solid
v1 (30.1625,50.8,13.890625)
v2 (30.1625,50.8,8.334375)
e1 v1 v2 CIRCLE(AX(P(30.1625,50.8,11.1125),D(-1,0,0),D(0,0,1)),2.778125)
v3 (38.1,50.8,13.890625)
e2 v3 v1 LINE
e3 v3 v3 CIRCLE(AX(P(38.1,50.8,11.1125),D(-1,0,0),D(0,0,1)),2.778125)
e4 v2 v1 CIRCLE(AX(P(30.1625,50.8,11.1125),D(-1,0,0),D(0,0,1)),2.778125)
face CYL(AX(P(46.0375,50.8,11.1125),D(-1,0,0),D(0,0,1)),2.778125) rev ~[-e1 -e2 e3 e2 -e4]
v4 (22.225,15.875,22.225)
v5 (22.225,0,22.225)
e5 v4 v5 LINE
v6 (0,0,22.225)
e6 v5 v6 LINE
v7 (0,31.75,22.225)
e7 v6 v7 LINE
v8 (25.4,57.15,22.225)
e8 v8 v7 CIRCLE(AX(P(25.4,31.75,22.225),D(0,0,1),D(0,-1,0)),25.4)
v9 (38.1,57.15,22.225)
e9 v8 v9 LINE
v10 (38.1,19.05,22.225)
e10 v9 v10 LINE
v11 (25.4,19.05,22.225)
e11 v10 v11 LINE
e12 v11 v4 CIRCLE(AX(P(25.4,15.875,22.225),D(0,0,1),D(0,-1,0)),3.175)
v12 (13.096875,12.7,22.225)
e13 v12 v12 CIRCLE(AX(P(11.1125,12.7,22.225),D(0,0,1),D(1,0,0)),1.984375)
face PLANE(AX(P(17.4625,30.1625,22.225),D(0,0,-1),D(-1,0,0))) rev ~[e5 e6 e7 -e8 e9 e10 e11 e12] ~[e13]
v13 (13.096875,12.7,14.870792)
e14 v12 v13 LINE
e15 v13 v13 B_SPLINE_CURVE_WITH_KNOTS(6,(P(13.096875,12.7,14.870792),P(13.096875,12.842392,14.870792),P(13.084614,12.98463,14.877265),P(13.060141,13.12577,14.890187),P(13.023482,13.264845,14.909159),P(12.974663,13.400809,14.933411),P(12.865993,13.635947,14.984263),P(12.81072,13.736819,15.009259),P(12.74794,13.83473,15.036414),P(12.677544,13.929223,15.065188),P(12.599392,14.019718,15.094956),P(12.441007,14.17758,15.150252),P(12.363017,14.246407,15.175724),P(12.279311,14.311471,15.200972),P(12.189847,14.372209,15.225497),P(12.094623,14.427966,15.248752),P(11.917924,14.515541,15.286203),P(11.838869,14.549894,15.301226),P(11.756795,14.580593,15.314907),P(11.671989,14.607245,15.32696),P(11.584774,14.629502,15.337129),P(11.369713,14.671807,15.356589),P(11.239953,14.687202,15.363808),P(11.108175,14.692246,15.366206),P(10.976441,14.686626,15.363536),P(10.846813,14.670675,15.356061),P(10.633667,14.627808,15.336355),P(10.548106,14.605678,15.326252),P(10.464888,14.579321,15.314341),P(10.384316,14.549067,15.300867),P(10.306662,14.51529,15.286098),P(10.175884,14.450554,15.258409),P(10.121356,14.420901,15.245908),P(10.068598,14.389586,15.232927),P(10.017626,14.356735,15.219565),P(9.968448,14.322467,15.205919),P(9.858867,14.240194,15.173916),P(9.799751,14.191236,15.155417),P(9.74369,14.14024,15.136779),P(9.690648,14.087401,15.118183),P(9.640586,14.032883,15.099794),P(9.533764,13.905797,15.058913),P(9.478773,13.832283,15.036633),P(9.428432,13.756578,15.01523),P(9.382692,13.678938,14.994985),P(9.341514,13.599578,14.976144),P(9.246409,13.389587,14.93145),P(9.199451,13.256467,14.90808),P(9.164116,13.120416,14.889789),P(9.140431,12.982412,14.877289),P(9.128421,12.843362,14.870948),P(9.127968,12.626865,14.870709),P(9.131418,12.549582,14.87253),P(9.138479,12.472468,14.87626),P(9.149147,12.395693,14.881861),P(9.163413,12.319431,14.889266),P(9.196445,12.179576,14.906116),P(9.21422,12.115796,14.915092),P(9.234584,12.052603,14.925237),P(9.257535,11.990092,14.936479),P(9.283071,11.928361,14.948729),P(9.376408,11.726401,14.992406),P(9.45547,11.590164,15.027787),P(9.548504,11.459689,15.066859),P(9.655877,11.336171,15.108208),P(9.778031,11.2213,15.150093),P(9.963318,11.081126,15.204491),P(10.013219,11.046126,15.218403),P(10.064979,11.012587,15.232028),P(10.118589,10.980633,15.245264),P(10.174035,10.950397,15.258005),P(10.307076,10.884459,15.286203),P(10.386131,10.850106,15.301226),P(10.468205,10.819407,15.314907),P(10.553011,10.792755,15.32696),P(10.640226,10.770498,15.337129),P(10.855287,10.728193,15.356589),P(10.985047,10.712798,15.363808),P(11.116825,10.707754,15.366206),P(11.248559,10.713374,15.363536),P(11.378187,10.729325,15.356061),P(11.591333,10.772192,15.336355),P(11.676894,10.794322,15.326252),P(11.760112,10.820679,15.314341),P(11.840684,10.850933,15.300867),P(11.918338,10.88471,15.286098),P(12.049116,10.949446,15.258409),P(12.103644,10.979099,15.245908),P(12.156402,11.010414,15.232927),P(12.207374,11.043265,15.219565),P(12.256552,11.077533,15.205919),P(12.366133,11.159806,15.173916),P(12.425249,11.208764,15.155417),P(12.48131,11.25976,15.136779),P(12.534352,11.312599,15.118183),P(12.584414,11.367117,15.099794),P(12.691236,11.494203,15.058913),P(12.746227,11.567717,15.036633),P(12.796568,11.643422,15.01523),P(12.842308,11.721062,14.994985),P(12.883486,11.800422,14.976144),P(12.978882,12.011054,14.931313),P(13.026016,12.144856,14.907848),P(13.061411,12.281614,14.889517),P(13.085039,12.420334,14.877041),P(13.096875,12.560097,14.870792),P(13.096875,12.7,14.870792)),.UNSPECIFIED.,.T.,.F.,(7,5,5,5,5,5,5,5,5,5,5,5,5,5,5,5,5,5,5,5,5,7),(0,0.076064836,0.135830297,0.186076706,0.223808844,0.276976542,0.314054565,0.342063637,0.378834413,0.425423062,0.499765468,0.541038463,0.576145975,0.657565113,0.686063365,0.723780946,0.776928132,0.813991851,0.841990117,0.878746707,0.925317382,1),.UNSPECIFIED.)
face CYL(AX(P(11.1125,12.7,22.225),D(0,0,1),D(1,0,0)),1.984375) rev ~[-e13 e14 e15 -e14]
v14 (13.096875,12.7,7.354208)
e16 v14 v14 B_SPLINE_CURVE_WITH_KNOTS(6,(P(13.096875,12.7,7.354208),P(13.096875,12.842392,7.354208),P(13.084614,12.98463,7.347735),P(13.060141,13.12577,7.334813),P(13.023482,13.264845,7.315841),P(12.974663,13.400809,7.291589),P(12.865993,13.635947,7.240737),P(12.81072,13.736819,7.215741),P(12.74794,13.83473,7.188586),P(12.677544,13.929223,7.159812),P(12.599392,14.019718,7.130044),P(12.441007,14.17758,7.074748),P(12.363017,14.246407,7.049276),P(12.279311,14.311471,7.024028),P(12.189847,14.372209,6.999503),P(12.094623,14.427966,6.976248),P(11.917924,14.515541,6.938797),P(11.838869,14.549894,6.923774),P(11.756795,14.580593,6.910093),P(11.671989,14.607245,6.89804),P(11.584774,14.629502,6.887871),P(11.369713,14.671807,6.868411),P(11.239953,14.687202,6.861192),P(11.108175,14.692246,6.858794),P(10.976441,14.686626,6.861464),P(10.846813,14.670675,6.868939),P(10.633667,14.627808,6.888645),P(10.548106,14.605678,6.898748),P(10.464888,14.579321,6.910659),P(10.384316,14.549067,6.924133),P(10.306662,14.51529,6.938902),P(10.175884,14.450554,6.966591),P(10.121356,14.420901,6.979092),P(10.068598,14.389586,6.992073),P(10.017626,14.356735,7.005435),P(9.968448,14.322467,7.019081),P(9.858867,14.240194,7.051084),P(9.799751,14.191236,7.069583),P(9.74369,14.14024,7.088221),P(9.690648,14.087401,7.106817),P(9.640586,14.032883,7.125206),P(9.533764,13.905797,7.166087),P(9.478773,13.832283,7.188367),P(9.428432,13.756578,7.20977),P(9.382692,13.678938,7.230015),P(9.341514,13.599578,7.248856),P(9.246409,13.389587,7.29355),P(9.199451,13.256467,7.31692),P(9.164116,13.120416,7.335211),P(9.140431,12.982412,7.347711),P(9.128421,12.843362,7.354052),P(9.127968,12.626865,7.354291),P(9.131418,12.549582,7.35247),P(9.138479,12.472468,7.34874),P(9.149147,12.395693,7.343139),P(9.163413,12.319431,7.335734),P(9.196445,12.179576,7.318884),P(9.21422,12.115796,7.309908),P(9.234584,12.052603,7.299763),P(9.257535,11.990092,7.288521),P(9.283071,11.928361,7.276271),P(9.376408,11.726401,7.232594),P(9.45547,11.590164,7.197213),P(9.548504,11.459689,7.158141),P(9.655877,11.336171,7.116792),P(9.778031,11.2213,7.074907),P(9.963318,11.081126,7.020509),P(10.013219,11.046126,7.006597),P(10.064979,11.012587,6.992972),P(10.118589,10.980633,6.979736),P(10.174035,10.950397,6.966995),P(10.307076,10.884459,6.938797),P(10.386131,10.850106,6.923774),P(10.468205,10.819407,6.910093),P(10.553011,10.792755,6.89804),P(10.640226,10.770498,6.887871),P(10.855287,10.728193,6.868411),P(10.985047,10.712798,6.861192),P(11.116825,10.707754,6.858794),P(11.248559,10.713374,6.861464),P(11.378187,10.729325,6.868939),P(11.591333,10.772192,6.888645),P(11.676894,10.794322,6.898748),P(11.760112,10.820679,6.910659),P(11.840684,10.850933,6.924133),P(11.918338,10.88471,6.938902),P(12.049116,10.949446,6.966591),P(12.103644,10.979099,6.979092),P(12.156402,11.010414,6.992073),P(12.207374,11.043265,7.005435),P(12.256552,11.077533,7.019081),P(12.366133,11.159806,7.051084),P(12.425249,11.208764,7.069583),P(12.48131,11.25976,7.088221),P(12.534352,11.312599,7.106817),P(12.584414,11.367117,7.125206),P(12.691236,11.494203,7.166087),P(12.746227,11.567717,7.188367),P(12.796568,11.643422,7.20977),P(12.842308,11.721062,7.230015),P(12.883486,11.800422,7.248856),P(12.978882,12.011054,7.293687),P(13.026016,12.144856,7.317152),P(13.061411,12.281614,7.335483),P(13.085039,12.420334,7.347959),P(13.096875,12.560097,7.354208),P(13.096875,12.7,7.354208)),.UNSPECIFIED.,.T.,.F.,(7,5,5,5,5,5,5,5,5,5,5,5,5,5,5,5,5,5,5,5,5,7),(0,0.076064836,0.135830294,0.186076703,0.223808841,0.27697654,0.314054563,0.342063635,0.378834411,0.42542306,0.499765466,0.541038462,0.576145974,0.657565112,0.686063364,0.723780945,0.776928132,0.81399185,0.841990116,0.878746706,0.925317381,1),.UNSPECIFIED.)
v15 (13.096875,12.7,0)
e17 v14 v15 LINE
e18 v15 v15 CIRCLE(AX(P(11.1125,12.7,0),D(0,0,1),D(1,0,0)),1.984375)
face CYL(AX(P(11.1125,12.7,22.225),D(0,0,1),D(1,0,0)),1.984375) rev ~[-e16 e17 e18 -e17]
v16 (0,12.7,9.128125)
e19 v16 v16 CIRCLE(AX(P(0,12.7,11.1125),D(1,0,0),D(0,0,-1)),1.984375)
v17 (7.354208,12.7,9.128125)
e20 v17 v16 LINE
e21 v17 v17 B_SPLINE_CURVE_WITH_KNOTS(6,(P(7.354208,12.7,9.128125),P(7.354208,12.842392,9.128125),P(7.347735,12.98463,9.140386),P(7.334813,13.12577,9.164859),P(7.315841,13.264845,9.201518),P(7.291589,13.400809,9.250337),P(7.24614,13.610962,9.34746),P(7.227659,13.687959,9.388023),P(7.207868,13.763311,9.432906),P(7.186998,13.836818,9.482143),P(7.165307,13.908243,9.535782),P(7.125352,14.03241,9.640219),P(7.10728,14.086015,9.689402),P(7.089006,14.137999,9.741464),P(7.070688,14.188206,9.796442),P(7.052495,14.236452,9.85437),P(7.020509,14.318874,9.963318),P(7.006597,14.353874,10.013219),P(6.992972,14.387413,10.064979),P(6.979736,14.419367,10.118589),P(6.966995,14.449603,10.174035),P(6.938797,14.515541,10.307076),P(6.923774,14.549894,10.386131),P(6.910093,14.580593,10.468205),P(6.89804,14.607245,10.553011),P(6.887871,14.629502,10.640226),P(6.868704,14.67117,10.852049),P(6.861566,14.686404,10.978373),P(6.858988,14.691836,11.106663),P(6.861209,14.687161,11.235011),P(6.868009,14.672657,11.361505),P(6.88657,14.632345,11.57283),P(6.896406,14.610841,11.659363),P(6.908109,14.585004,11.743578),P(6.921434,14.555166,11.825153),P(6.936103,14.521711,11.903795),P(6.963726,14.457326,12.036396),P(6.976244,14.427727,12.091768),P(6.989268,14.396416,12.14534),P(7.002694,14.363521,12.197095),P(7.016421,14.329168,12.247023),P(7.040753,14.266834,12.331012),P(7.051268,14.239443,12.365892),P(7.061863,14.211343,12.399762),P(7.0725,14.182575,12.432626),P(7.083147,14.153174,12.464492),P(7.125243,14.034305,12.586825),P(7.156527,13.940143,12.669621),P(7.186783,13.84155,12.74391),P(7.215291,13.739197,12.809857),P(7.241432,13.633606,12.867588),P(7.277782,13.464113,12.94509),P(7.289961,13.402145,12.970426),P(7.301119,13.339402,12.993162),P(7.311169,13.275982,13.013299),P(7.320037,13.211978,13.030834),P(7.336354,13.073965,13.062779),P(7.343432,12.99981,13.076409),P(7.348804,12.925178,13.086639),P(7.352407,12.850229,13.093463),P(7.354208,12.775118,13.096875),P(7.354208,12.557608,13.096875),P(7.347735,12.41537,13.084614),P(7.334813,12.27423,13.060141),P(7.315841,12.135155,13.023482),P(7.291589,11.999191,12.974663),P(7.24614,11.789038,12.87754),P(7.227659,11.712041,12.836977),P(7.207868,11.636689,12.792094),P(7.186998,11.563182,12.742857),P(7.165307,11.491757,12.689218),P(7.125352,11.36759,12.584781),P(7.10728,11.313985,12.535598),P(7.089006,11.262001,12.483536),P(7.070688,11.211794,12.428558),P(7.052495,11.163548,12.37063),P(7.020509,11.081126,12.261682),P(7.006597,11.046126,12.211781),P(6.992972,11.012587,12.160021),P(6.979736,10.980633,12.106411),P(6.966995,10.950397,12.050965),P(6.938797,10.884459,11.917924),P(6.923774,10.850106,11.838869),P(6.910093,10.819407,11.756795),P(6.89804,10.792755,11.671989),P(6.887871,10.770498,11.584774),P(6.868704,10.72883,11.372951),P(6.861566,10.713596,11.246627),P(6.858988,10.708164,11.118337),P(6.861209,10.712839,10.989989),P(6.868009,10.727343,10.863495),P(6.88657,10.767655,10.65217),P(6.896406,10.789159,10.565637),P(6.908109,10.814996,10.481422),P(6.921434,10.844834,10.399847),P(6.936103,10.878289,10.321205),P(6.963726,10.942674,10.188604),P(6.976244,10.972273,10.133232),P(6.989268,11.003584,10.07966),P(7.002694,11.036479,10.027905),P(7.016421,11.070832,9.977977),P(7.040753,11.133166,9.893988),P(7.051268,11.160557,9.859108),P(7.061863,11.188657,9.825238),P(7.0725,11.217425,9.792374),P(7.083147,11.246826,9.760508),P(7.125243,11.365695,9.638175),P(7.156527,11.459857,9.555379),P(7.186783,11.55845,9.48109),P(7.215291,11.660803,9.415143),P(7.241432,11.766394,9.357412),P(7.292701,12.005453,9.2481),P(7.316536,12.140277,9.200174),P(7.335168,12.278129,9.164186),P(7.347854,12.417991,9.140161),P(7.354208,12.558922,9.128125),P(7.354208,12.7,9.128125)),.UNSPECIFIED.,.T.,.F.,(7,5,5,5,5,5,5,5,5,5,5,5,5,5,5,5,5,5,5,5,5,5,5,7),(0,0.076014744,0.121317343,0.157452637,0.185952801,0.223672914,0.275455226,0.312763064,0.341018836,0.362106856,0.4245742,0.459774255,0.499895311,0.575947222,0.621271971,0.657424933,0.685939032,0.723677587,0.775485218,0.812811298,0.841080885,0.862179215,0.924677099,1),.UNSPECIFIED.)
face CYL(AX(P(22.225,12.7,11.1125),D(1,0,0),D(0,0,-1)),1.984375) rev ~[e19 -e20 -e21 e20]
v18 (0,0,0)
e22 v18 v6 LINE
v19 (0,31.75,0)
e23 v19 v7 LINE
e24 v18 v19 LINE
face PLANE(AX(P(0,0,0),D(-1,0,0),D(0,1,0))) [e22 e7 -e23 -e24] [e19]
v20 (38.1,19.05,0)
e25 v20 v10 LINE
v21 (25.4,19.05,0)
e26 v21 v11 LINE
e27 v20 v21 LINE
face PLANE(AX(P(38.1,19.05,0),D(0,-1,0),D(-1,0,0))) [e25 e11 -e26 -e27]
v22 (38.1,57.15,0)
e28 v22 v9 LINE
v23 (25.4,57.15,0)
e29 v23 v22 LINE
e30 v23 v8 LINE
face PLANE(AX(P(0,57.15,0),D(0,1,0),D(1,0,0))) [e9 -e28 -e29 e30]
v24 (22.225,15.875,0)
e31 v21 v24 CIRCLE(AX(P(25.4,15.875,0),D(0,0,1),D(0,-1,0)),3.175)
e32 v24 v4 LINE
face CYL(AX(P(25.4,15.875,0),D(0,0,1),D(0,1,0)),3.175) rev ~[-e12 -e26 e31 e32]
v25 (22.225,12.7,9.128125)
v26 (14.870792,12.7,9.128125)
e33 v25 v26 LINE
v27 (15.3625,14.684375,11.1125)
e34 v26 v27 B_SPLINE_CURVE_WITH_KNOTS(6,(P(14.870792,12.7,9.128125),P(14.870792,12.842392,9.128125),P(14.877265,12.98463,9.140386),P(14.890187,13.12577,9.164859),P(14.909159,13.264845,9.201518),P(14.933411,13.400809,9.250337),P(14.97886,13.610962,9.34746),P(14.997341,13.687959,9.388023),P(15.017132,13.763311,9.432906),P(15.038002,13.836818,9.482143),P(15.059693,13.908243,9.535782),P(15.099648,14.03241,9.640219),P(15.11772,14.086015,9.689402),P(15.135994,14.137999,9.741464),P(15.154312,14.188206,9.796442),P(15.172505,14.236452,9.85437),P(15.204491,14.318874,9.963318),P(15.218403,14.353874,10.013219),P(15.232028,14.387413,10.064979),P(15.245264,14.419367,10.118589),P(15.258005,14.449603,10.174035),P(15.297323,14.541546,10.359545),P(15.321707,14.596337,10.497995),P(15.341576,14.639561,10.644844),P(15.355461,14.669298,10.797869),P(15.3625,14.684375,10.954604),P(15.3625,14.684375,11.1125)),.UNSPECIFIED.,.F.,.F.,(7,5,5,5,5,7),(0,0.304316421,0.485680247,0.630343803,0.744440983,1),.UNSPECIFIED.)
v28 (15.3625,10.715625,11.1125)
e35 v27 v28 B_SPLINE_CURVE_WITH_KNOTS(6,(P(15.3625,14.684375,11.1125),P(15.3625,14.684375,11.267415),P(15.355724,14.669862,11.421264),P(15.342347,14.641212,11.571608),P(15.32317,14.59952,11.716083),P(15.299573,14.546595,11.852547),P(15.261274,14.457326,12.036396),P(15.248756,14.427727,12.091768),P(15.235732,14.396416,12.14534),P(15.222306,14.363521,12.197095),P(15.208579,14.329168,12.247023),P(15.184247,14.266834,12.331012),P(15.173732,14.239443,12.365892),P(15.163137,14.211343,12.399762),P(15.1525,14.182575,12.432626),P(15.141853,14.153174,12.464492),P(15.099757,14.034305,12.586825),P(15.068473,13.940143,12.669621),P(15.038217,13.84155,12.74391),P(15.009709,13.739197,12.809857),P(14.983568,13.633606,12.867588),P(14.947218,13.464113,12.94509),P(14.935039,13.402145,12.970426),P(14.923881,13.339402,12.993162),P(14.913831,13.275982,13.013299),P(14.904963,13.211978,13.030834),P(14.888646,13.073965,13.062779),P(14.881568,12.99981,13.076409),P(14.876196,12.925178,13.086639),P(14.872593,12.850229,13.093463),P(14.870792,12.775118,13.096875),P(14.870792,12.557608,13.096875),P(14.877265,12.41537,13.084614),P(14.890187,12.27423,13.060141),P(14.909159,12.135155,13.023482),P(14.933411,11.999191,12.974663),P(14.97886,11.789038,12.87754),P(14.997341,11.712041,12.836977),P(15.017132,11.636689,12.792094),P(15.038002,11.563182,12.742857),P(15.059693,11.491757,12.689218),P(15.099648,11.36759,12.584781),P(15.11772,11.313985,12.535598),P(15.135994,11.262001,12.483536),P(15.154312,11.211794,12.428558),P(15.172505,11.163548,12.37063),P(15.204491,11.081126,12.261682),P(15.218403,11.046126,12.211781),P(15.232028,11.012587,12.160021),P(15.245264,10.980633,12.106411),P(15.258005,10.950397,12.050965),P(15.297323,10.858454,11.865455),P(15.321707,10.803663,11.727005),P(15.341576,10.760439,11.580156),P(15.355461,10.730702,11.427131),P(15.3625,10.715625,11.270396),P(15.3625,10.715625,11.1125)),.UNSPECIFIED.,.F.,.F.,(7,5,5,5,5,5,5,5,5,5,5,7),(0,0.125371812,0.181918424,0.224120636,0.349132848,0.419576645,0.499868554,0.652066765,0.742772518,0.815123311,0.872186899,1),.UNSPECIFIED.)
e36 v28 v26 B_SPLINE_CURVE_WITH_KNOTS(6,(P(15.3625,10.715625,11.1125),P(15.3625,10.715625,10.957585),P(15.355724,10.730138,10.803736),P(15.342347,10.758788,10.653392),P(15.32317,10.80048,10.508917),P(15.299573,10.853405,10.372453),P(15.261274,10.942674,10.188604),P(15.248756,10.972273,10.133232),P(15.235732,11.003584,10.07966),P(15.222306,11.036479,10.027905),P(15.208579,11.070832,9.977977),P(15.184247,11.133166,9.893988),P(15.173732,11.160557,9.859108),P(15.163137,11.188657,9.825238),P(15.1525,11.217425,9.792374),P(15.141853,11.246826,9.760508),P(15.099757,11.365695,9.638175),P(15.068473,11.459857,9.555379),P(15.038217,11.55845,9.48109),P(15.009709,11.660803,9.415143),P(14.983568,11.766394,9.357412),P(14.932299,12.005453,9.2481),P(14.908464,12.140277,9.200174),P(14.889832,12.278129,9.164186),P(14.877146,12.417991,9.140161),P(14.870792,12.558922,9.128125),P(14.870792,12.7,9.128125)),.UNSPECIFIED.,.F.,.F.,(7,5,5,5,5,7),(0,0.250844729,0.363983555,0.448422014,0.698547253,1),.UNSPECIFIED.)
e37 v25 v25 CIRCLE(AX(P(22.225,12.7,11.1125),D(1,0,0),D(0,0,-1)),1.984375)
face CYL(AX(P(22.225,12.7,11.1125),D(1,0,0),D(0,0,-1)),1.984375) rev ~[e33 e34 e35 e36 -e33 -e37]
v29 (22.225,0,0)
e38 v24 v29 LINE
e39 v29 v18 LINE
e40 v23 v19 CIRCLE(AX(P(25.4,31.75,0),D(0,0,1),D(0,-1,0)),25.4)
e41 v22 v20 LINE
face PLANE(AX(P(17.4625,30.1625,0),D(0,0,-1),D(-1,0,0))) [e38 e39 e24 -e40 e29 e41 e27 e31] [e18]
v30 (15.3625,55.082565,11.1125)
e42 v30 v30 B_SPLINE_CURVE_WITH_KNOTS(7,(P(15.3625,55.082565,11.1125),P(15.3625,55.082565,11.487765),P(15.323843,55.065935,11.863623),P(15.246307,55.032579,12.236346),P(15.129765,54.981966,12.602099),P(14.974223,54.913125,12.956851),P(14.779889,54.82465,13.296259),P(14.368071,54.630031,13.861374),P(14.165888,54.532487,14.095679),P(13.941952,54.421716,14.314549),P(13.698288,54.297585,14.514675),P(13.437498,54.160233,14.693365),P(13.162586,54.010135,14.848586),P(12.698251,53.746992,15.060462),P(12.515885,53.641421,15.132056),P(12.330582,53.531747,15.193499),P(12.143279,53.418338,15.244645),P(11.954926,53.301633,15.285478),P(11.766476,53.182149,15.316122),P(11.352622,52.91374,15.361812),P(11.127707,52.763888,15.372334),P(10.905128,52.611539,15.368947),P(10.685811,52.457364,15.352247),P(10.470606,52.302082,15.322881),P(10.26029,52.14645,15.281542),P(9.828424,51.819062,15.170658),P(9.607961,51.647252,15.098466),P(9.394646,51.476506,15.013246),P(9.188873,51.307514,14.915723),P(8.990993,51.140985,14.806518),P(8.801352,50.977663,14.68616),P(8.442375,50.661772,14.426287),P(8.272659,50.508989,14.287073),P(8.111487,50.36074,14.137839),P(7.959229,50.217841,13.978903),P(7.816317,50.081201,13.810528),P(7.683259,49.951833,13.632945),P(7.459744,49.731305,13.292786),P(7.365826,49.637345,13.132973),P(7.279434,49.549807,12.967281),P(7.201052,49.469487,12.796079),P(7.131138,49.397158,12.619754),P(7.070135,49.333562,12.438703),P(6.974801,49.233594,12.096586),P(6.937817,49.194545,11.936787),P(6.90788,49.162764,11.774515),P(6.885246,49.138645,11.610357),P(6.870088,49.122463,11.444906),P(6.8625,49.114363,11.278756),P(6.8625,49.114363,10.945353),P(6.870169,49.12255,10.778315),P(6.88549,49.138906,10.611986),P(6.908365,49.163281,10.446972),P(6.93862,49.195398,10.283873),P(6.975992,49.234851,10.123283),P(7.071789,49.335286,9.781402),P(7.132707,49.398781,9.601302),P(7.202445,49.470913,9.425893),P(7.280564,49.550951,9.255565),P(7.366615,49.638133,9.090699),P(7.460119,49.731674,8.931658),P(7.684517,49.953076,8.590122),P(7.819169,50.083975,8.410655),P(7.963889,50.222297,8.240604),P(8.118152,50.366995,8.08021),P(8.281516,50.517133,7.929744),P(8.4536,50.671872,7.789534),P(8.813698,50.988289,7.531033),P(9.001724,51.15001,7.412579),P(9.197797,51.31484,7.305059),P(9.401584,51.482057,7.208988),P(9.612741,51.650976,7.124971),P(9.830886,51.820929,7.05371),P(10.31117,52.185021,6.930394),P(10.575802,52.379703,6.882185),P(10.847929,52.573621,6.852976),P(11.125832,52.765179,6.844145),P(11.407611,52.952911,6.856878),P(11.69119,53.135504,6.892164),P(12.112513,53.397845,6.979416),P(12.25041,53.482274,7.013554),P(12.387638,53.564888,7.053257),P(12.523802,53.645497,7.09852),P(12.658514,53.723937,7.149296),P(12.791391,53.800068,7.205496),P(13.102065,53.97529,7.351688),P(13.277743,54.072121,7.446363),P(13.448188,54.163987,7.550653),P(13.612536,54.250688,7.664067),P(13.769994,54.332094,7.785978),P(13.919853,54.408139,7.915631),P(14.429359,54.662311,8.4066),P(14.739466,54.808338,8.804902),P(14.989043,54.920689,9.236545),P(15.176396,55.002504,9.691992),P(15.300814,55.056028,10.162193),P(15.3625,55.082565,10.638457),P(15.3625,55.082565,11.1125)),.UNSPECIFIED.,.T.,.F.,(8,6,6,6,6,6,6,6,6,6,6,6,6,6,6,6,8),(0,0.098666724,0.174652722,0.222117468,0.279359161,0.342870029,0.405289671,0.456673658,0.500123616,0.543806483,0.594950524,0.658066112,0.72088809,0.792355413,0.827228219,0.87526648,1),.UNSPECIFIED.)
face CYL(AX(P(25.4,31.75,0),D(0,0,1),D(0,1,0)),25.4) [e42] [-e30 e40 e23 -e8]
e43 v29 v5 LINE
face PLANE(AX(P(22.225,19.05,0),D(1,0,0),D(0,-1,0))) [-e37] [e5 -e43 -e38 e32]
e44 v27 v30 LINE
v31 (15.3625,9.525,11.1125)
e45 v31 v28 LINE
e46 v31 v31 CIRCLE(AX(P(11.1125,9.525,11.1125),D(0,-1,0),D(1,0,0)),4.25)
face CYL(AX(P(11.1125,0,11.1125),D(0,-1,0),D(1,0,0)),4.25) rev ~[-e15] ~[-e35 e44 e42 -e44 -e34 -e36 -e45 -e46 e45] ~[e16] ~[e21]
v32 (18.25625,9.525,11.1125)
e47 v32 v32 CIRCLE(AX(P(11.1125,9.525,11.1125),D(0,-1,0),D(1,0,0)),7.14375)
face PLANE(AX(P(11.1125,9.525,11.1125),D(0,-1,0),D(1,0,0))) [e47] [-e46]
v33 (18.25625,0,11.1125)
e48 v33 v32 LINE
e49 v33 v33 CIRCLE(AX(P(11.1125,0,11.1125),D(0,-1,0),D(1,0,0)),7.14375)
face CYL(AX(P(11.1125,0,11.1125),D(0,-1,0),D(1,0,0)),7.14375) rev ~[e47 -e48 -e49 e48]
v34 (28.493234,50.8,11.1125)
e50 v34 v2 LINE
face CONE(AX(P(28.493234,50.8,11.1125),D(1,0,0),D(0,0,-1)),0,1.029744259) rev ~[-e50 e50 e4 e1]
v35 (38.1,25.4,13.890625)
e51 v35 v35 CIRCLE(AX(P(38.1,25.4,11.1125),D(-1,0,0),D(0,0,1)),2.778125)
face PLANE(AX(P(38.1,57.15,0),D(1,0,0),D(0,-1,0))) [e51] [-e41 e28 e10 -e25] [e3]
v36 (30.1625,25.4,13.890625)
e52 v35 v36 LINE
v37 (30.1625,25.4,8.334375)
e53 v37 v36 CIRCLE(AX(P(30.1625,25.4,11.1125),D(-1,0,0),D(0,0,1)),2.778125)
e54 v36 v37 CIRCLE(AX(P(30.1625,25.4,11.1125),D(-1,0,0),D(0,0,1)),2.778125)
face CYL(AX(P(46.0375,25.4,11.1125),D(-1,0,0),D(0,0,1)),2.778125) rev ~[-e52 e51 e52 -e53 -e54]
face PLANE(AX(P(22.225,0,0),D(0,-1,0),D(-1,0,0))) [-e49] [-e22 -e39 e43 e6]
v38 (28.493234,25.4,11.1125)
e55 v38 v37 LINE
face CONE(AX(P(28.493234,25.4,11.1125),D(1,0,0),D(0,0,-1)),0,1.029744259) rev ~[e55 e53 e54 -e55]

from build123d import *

# Parameters (mm, degrees)
BOSS_EXTRUDE1_DEPTH                 = 22.225
FILLET1_R                           = 3.175
FILLET2_R                           = 25.4
SKETCH3_R                           = 7.14375
CUT_EXTRUDE1_DEPTH                  = 9.525
SKETCH4_R                           = 4.25
CUT_EXTRUDE2_DEPTH                  = 58.15
F_7_32_0_21875_DIAMETER_HOLE1_D     = 5.55625
F_7_32_0_21875_DIAMETER_HOLE1_DEPTH = 7.9375
F_7_32_0_21875_DIAMETER_HOLE1_TIP   = 1.669265907
SKETCH9_R                           = 1.984375
CUT_EXTRUDE3_DEPTH                  = 23.2250001
SKETCH10_R                          = 1.984375
CUT_EXTRUDE4_DEPTH                  = 23.2250001


with BuildPart() as part:
    # Sketch1 → Boss-Extrude1 (new body)
    with BuildSketch(Plane.XY):
        Polygon((0, 0), (0, 57.15), (38.1, 57.15), (38.1, 19.05), (22.225, 19.05), (22.225, 0), align=None)
    extrude(amount=BOSS_EXTRUDE1_DEPTH)

    # Fillet1
    fillet1_edges = [part.edges().sort_by_distance(p)[0] for p in [
        (22.225, 19.05, 11.1125),
    ]]
    fillet(fillet1_edges, radius=FILLET1_R)

    # Fillet2
    fillet2_edges = [part.edges().sort_by_distance(p)[0] for p in [
        (0, 57.15, 11.1125),
    ]]
    fillet(fillet2_edges, radius=FILLET2_R)

    # Sketch3 → Cut-Extrude1 (cut)
    with BuildSketch(Plane.XZ):
        with Locations((11.1125, 11.1125)):
            Circle(SKETCH3_R)
    extrude(amount=-CUT_EXTRUDE1_DEPTH, mode=Mode.SUBTRACT)

    # Sketch4 → Cut-Extrude2 (cut, through all)
    with BuildSketch(Plane.XZ):
        with Locations((11.1125, 11.1125)):
            Circle(SKETCH4_R)
    extrude(amount=-CUT_EXTRUDE2_DEPTH, mode=Mode.SUBTRACT)

    # 7/32 (0.21875) Diameter Hole1
    with Locations(Plane(origin=(38.1, 0, 0), x_dir=(0, 0, -1), z_dir=(1, 0, 0))):
        with Locations((-11.1125, 50.8), (-11.1125, 25.4)):
            Hole(F_7_32_0_21875_DIAMETER_HOLE1_D / 2, depth=F_7_32_0_21875_DIAMETER_HOLE1_DEPTH)
            with Locations((0, 0, -(F_7_32_0_21875_DIAMETER_HOLE1_DEPTH + F_7_32_0_21875_DIAMETER_HOLE1_TIP / 2))):  # 118° drill point
                Cone(0, F_7_32_0_21875_DIAMETER_HOLE1_D / 2, F_7_32_0_21875_DIAMETER_HOLE1_TIP, mode=Mode.SUBTRACT)

    # Sketch9 → Cut-Extrude3 (cut, through all)
    with BuildSketch(Plane(origin=(22.225, 0, 0), x_dir=(0, 0, -1), z_dir=(1, 0, 0))):
        with Locations((-11.1125, 12.7)):
            Circle(SKETCH9_R)
    extrude(amount=-CUT_EXTRUDE3_DEPTH, mode=Mode.SUBTRACT)

    # Sketch10 → Cut-Extrude4 (cut, through all)
    with BuildSketch(Plane.XY.offset(22.225)):
        with Locations((11.1125, 12.7)):
            Circle(SKETCH10_R)
    extrude(amount=-CUT_EXTRUDE4_DEPTH, mode=Mode.SUBTRACT)


solid = part.part
